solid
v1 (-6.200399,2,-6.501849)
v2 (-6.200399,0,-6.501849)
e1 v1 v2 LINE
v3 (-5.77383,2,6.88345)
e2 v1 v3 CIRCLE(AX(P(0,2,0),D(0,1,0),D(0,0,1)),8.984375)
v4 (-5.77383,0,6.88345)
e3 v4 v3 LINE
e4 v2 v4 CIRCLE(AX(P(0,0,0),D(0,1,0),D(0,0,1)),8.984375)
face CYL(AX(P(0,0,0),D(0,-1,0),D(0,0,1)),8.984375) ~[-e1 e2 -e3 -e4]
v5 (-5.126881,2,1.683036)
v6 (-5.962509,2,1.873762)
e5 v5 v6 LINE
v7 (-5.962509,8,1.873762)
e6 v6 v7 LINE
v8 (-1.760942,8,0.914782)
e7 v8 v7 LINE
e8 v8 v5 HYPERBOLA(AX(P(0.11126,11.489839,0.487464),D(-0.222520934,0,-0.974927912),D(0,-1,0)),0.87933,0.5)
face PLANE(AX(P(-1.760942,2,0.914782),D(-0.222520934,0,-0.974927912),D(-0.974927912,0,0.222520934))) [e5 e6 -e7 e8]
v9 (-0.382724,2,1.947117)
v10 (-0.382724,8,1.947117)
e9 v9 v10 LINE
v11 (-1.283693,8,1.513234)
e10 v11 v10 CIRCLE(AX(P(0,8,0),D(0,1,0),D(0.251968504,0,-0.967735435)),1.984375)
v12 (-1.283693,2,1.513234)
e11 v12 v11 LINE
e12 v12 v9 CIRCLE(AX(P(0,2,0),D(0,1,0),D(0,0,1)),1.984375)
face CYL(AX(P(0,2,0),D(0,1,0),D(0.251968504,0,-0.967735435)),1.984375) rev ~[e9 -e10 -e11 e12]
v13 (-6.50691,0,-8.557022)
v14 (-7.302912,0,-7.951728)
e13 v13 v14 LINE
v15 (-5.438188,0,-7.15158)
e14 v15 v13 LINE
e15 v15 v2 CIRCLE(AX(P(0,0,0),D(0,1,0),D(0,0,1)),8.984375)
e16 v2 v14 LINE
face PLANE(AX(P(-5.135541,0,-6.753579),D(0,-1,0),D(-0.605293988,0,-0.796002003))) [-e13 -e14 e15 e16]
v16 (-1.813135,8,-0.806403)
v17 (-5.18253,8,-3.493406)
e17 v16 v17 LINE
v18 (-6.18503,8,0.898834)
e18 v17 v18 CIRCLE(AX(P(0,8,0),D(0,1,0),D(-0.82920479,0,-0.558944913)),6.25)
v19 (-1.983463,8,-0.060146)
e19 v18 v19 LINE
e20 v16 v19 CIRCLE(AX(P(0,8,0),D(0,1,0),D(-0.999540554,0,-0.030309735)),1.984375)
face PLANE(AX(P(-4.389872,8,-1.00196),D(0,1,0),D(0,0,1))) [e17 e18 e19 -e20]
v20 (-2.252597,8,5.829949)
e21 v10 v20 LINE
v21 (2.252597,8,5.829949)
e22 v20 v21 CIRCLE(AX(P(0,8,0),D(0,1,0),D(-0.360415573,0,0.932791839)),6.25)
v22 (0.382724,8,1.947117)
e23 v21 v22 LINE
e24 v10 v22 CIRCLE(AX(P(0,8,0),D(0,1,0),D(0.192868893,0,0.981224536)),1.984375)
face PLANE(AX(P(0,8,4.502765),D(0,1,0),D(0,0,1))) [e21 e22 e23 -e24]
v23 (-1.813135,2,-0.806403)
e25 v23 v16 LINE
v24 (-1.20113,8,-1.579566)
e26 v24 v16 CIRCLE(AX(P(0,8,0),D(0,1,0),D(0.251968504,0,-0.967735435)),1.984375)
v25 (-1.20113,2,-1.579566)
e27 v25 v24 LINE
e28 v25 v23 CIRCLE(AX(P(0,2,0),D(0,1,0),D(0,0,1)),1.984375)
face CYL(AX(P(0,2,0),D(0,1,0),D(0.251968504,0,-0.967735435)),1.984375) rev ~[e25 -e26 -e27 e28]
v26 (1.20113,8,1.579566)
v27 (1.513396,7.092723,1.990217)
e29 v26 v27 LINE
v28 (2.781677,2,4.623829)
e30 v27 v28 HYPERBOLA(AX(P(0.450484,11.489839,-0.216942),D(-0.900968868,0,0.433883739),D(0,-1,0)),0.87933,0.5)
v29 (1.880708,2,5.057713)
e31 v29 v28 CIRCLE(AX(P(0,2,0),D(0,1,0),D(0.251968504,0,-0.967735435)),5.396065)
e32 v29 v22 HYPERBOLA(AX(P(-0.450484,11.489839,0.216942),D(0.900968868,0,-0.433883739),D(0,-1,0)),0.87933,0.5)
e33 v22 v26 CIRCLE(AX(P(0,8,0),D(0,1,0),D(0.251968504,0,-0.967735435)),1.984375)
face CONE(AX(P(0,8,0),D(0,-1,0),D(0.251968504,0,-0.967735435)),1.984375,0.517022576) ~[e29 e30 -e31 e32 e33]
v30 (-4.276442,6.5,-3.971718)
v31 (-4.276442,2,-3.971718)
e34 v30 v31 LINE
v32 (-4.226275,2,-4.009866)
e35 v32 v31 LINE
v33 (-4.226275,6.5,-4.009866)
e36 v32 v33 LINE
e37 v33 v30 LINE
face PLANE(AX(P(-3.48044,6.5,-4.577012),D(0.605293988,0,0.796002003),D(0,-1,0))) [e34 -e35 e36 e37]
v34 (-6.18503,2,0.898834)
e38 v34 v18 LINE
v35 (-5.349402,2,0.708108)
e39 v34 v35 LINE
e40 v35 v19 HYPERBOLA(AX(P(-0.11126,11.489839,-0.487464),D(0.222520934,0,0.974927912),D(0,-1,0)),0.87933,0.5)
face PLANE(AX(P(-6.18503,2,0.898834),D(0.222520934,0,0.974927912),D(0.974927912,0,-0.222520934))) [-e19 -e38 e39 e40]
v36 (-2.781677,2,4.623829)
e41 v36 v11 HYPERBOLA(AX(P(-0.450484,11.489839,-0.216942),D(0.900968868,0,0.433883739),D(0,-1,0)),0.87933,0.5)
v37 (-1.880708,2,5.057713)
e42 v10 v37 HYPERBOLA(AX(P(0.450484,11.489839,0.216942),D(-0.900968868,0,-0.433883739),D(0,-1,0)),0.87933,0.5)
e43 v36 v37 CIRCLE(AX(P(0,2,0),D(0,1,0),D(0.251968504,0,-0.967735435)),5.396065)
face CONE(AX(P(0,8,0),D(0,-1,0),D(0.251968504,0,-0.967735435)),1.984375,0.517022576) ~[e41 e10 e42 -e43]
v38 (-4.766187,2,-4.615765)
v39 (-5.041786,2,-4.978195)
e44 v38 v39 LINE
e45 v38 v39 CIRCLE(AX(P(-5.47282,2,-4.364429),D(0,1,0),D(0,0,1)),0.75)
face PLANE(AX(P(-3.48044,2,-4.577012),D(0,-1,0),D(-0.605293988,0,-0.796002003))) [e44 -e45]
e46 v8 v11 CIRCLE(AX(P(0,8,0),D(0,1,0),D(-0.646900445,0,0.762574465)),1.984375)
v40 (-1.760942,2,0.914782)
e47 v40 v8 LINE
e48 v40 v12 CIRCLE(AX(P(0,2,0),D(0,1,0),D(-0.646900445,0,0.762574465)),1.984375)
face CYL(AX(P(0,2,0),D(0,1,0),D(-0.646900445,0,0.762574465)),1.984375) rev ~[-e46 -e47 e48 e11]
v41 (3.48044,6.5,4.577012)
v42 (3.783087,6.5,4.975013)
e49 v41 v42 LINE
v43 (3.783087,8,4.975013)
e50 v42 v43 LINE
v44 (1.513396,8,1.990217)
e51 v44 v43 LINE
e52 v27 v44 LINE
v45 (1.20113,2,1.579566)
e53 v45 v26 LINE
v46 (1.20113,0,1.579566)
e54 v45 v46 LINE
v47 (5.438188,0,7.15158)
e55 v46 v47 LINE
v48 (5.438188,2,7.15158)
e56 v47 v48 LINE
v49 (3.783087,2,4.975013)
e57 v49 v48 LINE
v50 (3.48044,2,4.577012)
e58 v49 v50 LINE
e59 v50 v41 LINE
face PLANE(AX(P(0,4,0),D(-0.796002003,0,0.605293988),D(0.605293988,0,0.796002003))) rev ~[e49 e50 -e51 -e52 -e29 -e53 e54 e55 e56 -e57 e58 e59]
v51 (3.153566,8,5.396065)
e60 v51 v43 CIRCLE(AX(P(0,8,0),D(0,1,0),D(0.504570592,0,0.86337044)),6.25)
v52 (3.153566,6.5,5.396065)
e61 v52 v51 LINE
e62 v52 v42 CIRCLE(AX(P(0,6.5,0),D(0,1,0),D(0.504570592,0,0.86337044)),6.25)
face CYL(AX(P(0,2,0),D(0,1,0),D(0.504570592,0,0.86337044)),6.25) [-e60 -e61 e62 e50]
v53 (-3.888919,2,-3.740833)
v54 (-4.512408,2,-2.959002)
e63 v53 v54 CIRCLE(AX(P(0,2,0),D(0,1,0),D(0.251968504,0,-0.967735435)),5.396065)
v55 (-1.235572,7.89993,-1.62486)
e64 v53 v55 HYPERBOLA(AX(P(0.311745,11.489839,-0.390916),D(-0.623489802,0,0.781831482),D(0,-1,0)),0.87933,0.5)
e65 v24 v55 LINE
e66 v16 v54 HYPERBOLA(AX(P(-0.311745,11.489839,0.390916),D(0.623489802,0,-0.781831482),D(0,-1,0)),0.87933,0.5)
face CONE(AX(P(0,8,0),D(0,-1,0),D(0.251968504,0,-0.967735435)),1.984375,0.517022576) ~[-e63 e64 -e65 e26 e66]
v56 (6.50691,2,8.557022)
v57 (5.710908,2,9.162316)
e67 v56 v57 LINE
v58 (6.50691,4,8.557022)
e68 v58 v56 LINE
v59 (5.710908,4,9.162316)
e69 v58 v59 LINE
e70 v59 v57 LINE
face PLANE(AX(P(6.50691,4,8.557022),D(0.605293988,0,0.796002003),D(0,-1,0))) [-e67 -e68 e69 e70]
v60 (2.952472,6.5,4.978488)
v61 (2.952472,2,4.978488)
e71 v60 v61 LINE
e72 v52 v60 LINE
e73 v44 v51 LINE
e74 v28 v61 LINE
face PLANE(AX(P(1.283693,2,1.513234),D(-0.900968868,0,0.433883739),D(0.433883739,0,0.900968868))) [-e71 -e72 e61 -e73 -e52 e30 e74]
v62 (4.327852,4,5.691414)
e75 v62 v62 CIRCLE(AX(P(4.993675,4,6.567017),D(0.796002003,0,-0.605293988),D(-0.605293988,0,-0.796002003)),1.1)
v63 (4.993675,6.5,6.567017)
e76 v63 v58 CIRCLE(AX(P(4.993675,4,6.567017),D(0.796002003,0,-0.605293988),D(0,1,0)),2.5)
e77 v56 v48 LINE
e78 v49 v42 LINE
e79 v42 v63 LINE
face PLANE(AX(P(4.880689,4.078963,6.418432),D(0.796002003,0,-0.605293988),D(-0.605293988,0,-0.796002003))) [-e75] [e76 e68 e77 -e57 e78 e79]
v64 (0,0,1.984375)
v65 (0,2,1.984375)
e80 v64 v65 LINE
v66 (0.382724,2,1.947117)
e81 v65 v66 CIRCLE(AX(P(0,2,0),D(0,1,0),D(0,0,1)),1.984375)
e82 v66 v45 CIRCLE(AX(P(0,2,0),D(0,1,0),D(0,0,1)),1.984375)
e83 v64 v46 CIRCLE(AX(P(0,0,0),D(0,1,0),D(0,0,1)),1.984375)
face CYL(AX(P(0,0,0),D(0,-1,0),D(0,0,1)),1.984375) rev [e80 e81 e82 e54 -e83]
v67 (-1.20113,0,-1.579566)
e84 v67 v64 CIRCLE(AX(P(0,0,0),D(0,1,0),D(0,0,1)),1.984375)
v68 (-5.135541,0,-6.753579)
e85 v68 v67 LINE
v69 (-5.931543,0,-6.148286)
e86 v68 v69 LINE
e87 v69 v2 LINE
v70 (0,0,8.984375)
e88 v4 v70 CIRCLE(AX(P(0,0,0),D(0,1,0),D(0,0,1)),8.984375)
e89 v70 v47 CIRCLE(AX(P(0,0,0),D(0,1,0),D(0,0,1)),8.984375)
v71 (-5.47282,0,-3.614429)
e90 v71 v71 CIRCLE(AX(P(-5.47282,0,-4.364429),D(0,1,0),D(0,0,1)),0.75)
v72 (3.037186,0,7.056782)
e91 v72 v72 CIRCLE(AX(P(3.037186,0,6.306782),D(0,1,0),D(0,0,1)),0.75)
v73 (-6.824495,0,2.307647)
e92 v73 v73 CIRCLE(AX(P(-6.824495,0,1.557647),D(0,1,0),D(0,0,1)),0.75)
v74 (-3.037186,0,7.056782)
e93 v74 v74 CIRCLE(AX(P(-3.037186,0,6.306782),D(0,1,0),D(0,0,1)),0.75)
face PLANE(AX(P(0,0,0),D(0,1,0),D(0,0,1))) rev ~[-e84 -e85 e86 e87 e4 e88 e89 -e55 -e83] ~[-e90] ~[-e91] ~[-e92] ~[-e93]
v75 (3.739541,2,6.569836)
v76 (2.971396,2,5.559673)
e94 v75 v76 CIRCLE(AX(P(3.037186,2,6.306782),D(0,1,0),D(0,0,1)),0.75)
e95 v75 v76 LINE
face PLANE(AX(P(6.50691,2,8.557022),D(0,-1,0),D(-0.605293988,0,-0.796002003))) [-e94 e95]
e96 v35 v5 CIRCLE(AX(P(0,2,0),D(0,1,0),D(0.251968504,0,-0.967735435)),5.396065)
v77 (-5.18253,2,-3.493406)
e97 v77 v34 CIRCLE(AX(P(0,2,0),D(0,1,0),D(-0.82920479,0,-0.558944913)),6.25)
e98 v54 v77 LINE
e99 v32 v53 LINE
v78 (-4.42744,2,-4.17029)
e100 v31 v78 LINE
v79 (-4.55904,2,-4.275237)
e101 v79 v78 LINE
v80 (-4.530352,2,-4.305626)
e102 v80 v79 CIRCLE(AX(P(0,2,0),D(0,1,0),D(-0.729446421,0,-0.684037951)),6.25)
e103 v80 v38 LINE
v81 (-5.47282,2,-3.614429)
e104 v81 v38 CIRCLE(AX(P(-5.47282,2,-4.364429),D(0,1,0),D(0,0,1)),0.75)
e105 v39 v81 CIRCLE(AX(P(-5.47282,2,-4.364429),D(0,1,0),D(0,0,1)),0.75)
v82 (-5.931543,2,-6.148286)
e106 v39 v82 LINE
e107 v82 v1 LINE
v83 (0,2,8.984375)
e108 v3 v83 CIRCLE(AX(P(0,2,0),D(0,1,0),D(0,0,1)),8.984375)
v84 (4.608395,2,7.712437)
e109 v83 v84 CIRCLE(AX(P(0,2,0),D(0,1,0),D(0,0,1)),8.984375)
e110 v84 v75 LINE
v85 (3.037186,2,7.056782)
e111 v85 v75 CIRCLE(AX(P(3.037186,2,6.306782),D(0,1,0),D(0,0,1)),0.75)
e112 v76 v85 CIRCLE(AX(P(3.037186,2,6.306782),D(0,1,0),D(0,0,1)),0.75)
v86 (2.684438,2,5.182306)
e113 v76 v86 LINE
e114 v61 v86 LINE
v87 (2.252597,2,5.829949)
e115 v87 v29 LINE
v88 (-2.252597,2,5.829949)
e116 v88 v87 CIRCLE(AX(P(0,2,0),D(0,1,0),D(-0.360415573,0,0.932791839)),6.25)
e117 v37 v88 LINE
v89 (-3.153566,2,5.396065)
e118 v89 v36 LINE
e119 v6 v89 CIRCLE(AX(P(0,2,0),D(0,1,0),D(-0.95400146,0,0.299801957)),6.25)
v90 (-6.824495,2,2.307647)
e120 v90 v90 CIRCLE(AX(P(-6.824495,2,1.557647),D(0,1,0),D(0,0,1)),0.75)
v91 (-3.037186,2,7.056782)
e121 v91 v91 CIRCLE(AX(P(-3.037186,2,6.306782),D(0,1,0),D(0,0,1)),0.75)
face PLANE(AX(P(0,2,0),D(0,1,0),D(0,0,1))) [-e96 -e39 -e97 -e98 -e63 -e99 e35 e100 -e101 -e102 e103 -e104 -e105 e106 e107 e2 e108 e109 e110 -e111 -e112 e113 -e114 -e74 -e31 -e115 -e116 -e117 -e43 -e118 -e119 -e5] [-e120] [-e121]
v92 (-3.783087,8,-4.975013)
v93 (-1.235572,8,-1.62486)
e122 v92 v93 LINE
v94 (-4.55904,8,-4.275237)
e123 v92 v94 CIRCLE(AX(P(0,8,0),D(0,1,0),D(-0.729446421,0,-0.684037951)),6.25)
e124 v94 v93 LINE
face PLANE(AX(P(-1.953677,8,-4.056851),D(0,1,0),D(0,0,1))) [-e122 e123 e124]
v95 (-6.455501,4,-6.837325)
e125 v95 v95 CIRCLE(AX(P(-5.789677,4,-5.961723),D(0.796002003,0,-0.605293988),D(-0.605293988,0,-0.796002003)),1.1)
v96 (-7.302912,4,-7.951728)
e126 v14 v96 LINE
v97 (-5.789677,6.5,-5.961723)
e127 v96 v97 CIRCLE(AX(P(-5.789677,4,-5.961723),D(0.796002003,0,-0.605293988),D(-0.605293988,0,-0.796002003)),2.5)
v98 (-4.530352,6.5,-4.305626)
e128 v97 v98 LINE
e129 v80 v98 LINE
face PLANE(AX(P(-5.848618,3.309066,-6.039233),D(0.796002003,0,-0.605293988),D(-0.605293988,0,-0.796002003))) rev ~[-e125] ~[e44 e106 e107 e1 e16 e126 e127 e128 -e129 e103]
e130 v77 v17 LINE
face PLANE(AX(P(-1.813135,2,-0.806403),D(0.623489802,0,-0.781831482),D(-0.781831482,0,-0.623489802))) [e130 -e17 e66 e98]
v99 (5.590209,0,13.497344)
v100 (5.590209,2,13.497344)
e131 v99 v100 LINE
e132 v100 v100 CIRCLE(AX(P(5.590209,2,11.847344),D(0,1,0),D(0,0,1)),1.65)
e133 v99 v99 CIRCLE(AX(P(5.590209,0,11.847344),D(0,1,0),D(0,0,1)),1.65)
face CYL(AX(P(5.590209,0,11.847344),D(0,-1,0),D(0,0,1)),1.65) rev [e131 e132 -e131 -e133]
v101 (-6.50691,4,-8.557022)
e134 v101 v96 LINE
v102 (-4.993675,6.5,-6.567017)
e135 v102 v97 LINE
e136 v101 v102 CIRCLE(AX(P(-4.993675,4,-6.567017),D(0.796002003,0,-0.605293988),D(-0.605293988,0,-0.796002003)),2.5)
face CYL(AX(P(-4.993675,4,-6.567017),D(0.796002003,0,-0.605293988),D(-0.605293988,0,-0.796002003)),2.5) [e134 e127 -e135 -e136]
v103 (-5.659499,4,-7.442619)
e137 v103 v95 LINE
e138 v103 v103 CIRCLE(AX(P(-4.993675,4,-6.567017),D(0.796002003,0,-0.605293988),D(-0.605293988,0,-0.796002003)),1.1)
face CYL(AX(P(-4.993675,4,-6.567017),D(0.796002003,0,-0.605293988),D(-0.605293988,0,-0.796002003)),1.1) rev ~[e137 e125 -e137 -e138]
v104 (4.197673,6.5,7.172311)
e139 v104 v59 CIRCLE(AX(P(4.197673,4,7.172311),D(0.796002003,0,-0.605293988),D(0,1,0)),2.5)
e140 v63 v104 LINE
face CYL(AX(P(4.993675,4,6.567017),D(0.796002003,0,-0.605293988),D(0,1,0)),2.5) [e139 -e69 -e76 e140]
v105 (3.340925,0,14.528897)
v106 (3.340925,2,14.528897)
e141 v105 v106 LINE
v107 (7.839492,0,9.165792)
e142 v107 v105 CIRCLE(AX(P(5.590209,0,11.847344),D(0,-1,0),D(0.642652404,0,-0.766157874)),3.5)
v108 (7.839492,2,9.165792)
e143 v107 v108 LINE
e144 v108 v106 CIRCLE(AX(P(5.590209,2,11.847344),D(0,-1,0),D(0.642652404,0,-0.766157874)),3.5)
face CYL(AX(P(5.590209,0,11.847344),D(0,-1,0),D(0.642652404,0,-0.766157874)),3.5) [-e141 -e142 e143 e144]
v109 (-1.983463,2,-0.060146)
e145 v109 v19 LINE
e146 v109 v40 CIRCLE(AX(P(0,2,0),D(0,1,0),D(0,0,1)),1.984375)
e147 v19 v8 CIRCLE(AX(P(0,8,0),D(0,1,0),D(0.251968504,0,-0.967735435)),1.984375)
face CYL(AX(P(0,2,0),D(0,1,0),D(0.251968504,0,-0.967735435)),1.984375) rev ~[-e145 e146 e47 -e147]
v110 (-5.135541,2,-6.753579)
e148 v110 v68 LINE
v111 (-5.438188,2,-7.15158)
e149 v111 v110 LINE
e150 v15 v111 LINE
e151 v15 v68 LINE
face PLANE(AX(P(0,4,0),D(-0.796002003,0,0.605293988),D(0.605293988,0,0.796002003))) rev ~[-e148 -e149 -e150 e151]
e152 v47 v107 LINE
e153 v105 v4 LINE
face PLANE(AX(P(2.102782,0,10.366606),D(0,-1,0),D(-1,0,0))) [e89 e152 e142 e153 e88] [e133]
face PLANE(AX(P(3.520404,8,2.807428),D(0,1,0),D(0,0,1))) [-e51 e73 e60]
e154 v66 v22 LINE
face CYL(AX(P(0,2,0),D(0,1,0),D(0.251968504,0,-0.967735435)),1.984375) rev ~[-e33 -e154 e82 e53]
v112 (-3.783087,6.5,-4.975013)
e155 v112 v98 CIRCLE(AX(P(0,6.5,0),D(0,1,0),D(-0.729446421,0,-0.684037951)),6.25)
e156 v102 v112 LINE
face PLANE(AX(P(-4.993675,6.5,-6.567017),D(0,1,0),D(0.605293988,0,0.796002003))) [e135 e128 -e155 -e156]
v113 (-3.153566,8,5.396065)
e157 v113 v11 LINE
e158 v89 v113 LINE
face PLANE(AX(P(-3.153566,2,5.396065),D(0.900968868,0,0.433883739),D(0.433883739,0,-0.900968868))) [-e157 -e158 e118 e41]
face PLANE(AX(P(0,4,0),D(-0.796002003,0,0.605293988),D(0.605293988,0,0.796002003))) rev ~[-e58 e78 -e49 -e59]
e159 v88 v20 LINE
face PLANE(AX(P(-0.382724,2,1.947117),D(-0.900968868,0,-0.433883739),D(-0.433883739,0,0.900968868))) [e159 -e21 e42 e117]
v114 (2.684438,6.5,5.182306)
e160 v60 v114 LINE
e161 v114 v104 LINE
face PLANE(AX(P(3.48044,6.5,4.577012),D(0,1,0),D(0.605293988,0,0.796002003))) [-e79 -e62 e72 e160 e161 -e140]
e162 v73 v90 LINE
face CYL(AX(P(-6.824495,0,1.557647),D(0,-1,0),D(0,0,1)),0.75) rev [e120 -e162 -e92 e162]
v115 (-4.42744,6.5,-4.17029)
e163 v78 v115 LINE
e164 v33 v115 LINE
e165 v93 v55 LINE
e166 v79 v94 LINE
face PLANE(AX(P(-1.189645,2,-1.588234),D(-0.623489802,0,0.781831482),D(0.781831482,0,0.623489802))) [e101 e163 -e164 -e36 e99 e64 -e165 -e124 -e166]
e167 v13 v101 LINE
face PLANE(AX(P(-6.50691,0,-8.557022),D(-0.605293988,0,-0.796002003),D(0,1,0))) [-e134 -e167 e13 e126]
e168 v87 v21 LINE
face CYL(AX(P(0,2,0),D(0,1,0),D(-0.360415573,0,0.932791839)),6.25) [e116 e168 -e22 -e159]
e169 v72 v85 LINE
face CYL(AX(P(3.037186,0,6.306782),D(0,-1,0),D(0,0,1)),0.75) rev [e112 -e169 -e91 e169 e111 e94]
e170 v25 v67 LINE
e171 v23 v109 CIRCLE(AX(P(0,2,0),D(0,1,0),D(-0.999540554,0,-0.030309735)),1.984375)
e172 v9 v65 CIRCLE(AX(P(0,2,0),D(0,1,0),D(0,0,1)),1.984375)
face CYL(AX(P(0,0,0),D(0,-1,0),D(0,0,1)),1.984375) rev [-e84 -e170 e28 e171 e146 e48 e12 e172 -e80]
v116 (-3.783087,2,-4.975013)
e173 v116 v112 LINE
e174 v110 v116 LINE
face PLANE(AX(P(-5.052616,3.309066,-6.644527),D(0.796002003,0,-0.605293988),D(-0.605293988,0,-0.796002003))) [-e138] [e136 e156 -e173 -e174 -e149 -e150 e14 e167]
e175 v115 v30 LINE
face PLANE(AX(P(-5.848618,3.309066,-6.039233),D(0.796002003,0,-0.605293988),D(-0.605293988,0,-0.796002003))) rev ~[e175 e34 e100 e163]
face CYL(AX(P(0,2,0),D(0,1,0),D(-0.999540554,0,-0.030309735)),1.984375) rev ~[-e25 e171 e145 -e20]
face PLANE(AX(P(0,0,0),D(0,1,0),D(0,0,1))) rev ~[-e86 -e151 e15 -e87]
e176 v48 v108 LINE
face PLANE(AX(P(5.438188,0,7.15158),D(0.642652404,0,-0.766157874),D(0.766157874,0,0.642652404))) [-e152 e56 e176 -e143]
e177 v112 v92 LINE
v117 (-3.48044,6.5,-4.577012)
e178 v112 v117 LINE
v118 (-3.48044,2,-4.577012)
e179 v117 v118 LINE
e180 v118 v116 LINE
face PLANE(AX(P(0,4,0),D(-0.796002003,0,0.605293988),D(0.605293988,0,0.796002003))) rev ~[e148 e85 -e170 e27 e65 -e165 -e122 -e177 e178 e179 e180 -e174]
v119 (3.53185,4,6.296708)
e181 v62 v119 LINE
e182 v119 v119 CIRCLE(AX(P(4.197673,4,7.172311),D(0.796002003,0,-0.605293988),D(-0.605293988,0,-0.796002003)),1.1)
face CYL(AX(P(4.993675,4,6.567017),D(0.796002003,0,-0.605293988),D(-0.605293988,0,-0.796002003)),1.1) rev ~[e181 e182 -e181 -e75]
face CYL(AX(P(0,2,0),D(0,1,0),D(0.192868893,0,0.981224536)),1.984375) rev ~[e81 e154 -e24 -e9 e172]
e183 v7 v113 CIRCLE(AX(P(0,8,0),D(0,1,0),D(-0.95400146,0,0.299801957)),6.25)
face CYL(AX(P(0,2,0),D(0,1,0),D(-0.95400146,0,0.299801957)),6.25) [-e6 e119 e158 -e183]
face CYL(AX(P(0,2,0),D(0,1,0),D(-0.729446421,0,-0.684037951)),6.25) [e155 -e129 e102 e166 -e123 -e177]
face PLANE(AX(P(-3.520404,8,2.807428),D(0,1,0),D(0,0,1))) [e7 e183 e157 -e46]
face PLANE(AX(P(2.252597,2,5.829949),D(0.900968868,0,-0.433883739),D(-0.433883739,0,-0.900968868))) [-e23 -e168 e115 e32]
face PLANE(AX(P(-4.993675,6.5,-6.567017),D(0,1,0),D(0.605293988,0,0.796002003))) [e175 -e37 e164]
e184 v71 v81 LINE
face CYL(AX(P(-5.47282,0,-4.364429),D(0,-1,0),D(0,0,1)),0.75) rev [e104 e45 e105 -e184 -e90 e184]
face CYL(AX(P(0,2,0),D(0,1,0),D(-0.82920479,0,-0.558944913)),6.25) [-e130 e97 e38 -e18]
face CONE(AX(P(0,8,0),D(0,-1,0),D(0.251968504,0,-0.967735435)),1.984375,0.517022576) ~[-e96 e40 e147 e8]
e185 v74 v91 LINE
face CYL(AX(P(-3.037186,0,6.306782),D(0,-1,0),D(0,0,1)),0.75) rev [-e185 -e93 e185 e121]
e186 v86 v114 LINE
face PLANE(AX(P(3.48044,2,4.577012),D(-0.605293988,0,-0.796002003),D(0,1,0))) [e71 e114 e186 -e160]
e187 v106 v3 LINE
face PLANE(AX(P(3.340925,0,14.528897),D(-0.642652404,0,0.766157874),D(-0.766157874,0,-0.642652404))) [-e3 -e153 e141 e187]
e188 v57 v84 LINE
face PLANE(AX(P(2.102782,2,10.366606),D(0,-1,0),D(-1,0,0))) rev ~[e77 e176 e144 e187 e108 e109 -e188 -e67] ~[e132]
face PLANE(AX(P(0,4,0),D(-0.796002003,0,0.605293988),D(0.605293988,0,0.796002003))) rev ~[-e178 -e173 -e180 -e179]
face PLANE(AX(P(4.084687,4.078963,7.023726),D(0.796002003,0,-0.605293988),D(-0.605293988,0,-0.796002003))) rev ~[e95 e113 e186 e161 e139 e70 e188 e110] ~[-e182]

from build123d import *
from build123d.topology import SkipClean

# Parameters (mm, degrees)
SKETCH1_R           = 8.984375
SKETCH1_R_2         = 1.984375
SKETCH1_R_3         = 0.75
BOSS_EXTRUDE1_DEPTH = 2
SKETCH6_W           = 17.96875
SKETCH6_H           = 8
CUT_EXTRUDE1_DEPTH  = 16.014592511
BOSS_EXTRUDE3_START = -2
SKETCH7_R           = 1.65
BOSS_EXTRUDE3_DEPTH = 2
SKETCH8_R           = 1.1
BOSS_EXTRUDE4_DEPTH = 1


with BuildPart() as part:
    # Sketch1 → Boss-Extrude1 (new body)
    with BuildSketch(Plane(origin=(0, 0, 0), x_dir=(1, 0, 0), z_dir=(0, 1, 0))):
        with Locations(Location((0, 0, 0), (0, 0, 270))):
            Circle(SKETCH1_R)
        with Locations(Location((0, 0, 0), (0, 0, 270))):
            Circle(SKETCH1_R_2, mode=Mode.SUBTRACT)
        with Locations(Location((0, 7, 0), (0, 0, 270))):
            Circle(SKETCH1_R_3, mode=Mode.SUBTRACT)
        with Locations(Location((5.472820377, 4.364428613, 0), (0, 0, 270))):
            Circle(SKETCH1_R_3, mode=Mode.SUBTRACT)
        with Locations(Location((6.824495385, -1.557646538, 0), (0, 0, 270))):
            Circle(SKETCH1_R_3, mode=Mode.SUBTRACT)
        with Locations(Location((3.037186174, -6.306782075, 0), (0, 0, 270))):
            Circle(SKETCH1_R_3, mode=Mode.SUBTRACT)
        with Locations(Location((-3.037186174, -6.306782075, 0), (0, 0, 270))):
            Circle(SKETCH1_R_3, mode=Mode.SUBTRACT)
        with Locations(Location((-6.824495385, -1.557646538, 0), (0, 0, 270))):
            Circle(SKETCH1_R_3, mode=Mode.SUBTRACT)
        with Locations(Location((-5.472820377, 4.364428613, 0), (0, 0, 270))):
            Circle(SKETCH1_R_3, mode=Mode.SUBTRACT)
    extrude(amount=BOSS_EXTRUDE1_DEPTH)

    # Sweep1: sweep along a path in Sketch3
    with SkipClean():  # the faces are left unmerged after this step: merging them gives an invalid solid
        with BuildLine(Plane(origin=(0, 0, 0), x_dir=(0, 0, -1), z_dir=(1, 0, 0))) as sweep1_path:
            Line((0, 2), (0, 8))
        # Sketch2 → Sweep1 (sweep)
        with BuildSketch(Plane(origin=(0, 2, 0), x_dir=(1, 0, 0), z_dir=(0, 1, 0))):
            with BuildLine():
                Line((-0.5, 6.229967897), (-0.5, 1.920350005))
                ThreePointArc((-0.5, 1.920350005), (-0.860988045, 1.787860097), (-1.18964519, 1.588234385))
                Line((-1.18964519, 1.588234385), (-4.559040136, 4.275237191))
                ThreePointArc((-4.559040136, 4.275237191), (-2.711773369, 5.631055424), (-0.5, 6.229967897))
            make_face()
            with BuildLine():
                Line((0.5, 6.229967897), (0.5, 1.920350005))
                ThreePointArc((0.5, 1.920350005), (0.860988045, 1.787860097), (1.18964519, 1.588234385))
                Line((1.18964519, 1.588234385), (4.559040136, 4.275237191))
                ThreePointArc((4.559040136, 4.275237191), (2.711773369, 5.631055424), (0.5, 6.229967897))
            make_face()
            with BuildLine():
                Line((5.182529938, 3.493405709), (1.813134992, 0.806402903))
                ThreePointArc((1.813134992, 0.806402903), (1.934622576, 0.441564978), (1.983463288, 0.06014588))
                Line((1.983463288, 0.06014588), (6.185030062, -0.898834319))
                ThreePointArc((6.185030062, -0.898834319), (6.093299451, 1.390755837), (5.182529938, 3.493405709))
            make_face()
            with BuildLine():
                Line((5.962509128, -1.873762231), (1.760942354, -0.914782033))
                ThreePointArc((1.760942354, -0.914782033), (1.551446848, -1.237237576), (1.283693074, -1.5132337))
                Line((1.283693074, -1.5132337), (3.1535662, -5.396065254))
                ThreePointArc((3.1535662, -5.396065254), (4.886446765, -3.896811262), (5.962509128, -1.873762231))
            make_face()
            with BuildLine():
                Line((2.252597332, -5.829948993), (0.382724207, -1.947117439))
                ThreePointArc((0.382724207, -1.947117439), (0, -1.984375), (-0.382724207, -1.947117439))
                Line((-0.382724207, -1.947117439), (-2.252597332, -5.829948993))
                ThreePointArc((-2.252597332, -5.829948993), (0, -6.25), (2.252597332, -5.829948993))
            make_face()
            with BuildLine():
                Line((-3.1535662, -5.396065254), (-1.283693074, -1.5132337))
                ThreePointArc((-1.283693074, -1.5132337), (-1.551446848, -1.237237576), (-1.760942354, -0.914782033))
                Line((-1.760942354, -0.914782033), (-5.962509128, -1.873762231))
                ThreePointArc((-5.962509128, -1.873762231), (-4.886446765, -3.896811262), (-3.1535662, -5.396065254))
            make_face()
            with BuildLine():
                Line((-6.185030062, -0.898834319), (-1.983463288, 0.06014588))
                ThreePointArc((-1.983463288, 0.06014588), (-1.934622576, 0.441564978), (-1.813134992, 0.806402903))
                Line((-1.813134992, 0.806402903), (-5.182529938, 3.493405709))
                ThreePointArc((-5.182529938, 3.493405709), (-6.093299451, 1.390755837), (-6.185030062, -0.898834319))
            make_face()
        sweep(path=sweep1_path.line)

    # Sketch4 → Revolve1 (revolve)
    with SkipClean():  # the faces are left unmerged after this step: merging them gives an invalid solid
        with BuildSketch(Plane(origin=(0, 0, 0), x_dir=(0, 0, -1), z_dir=(1, 0, 0)), mode=Mode.PRIVATE) as revolve1_sk:
            Polygon((-5.396065254, 2), (-1.984375, 2), (-1.984375, 8), align=None)
        revolve(revolve1_sk.sketch.rotate(Axis((0, 0, 0), (0, 1, 0)), 165.405971265), axis=Axis((0, 0, 0), (0, 1, 0)))

    # Sketch6 → Cut-Extrude1 (cut, through all)
    with SkipClean():  # the faces are left unmerged after this step: merging them gives an invalid solid
        with BuildSketch(Plane(origin=(0, 0, 0), x_dir=(0.6052939880428899, 0, 0.7960020025346255), z_dir=(-0.7960020025346255, 0, 0.6052939880428899))):
            with Locations((0, 4)):
                Rectangle(SKETCH6_W, SKETCH6_H)
        extrude(amount=-CUT_EXTRUDE1_DEPTH, mode=Mode.SUBTRACT)

    # Sketch7 → Boss-Extrude3 (add)
    with SkipClean():  # the faces are left unmerged after this step: merging them gives an invalid solid
        with BuildSketch(Plane(origin=(0, 2, 0), x_dir=(1, 0, 0), z_dir=(0, 1, 0)).offset(BOSS_EXTRUDE3_START)):
            with BuildLine():
                Line((5.438188174, -7.151580492), (7.839492164, -9.165791707))
                ThreePointArc((7.839492164, -9.165791707), (8.271761308, -14.096627679), (3.340925335, -14.528896823))
                Line((3.340925335, -14.528896823), (-5.773830193, -6.883449647))
                ThreePointArc((-5.773830193, -6.883449647), (-0.214796249, -8.981806985), (5.438188174, -7.151580492))
            make_face()
            with Locations(Location((5.59020875, -11.847344265, 0), (0, 0, 270))):
                Circle(SKETCH7_R, mode=Mode.SUBTRACT)
        extrude(amount=BOSS_EXTRUDE3_DEPTH)

    # Sketch8 → Boss-Extrude4 (add)
    # profile 1 of 2: a face of its own
    with SkipClean():  # the faces are left unmerged after this step: merging them gives an invalid solid
        with BuildSketch(Plane(origin=(0, 0, 0), x_dir=(-0.60529398804289, 0, -0.7960020025346255), z_dir=(0.7960020025346254, 0, -0.6052939880428899))):
            with BuildLine():
                ThreePointArc((-8.25, 6.5), (-10.017766953, 5.767766953), (-10.75, 4))
                Line((-10.75, 4), (-10.75, 2))
                Line((-10.75, 2), (-5.75, 2))
                Line((-5.75, 2), (-5.75, 6.5))
                Line((-5.75, 6.5), (-8.25, 6.5))
            make_face()
            with Locations((-8.25, 4)):
                Circle(SKETCH8_R, mode=Mode.SUBTRACT)
        # profile 2 of 2: a face of its own
        with BuildSketch(Plane(origin=(0, 0, 0), x_dir=(-0.60529398804289, 0, -0.7960020025346255), z_dir=(0.7960020025346254, 0, -0.6052939880428899))):
            with BuildLine():
                Line((5.75, 2), (8.484375, 2))
                Line((8.484375, 2), (8.484375, 0))
                Line((8.484375, 0), (10.75, 0))
                Line((10.75, 0), (10.75, 4))
                ThreePointArc((10.75, 4), (10.017766953, 5.767766953), (8.25, 6.5))
                Line((8.25, 6.5), (5.75, 6.5))
                Line((5.75, 6.5), (5.75, 2))
            make_face()
            with Locations((8.25, 4)):
                Circle(SKETCH8_R, mode=Mode.SUBTRACT)
        extrude(amount=-BOSS_EXTRUDE4_DEPTH)


solid = part.part
